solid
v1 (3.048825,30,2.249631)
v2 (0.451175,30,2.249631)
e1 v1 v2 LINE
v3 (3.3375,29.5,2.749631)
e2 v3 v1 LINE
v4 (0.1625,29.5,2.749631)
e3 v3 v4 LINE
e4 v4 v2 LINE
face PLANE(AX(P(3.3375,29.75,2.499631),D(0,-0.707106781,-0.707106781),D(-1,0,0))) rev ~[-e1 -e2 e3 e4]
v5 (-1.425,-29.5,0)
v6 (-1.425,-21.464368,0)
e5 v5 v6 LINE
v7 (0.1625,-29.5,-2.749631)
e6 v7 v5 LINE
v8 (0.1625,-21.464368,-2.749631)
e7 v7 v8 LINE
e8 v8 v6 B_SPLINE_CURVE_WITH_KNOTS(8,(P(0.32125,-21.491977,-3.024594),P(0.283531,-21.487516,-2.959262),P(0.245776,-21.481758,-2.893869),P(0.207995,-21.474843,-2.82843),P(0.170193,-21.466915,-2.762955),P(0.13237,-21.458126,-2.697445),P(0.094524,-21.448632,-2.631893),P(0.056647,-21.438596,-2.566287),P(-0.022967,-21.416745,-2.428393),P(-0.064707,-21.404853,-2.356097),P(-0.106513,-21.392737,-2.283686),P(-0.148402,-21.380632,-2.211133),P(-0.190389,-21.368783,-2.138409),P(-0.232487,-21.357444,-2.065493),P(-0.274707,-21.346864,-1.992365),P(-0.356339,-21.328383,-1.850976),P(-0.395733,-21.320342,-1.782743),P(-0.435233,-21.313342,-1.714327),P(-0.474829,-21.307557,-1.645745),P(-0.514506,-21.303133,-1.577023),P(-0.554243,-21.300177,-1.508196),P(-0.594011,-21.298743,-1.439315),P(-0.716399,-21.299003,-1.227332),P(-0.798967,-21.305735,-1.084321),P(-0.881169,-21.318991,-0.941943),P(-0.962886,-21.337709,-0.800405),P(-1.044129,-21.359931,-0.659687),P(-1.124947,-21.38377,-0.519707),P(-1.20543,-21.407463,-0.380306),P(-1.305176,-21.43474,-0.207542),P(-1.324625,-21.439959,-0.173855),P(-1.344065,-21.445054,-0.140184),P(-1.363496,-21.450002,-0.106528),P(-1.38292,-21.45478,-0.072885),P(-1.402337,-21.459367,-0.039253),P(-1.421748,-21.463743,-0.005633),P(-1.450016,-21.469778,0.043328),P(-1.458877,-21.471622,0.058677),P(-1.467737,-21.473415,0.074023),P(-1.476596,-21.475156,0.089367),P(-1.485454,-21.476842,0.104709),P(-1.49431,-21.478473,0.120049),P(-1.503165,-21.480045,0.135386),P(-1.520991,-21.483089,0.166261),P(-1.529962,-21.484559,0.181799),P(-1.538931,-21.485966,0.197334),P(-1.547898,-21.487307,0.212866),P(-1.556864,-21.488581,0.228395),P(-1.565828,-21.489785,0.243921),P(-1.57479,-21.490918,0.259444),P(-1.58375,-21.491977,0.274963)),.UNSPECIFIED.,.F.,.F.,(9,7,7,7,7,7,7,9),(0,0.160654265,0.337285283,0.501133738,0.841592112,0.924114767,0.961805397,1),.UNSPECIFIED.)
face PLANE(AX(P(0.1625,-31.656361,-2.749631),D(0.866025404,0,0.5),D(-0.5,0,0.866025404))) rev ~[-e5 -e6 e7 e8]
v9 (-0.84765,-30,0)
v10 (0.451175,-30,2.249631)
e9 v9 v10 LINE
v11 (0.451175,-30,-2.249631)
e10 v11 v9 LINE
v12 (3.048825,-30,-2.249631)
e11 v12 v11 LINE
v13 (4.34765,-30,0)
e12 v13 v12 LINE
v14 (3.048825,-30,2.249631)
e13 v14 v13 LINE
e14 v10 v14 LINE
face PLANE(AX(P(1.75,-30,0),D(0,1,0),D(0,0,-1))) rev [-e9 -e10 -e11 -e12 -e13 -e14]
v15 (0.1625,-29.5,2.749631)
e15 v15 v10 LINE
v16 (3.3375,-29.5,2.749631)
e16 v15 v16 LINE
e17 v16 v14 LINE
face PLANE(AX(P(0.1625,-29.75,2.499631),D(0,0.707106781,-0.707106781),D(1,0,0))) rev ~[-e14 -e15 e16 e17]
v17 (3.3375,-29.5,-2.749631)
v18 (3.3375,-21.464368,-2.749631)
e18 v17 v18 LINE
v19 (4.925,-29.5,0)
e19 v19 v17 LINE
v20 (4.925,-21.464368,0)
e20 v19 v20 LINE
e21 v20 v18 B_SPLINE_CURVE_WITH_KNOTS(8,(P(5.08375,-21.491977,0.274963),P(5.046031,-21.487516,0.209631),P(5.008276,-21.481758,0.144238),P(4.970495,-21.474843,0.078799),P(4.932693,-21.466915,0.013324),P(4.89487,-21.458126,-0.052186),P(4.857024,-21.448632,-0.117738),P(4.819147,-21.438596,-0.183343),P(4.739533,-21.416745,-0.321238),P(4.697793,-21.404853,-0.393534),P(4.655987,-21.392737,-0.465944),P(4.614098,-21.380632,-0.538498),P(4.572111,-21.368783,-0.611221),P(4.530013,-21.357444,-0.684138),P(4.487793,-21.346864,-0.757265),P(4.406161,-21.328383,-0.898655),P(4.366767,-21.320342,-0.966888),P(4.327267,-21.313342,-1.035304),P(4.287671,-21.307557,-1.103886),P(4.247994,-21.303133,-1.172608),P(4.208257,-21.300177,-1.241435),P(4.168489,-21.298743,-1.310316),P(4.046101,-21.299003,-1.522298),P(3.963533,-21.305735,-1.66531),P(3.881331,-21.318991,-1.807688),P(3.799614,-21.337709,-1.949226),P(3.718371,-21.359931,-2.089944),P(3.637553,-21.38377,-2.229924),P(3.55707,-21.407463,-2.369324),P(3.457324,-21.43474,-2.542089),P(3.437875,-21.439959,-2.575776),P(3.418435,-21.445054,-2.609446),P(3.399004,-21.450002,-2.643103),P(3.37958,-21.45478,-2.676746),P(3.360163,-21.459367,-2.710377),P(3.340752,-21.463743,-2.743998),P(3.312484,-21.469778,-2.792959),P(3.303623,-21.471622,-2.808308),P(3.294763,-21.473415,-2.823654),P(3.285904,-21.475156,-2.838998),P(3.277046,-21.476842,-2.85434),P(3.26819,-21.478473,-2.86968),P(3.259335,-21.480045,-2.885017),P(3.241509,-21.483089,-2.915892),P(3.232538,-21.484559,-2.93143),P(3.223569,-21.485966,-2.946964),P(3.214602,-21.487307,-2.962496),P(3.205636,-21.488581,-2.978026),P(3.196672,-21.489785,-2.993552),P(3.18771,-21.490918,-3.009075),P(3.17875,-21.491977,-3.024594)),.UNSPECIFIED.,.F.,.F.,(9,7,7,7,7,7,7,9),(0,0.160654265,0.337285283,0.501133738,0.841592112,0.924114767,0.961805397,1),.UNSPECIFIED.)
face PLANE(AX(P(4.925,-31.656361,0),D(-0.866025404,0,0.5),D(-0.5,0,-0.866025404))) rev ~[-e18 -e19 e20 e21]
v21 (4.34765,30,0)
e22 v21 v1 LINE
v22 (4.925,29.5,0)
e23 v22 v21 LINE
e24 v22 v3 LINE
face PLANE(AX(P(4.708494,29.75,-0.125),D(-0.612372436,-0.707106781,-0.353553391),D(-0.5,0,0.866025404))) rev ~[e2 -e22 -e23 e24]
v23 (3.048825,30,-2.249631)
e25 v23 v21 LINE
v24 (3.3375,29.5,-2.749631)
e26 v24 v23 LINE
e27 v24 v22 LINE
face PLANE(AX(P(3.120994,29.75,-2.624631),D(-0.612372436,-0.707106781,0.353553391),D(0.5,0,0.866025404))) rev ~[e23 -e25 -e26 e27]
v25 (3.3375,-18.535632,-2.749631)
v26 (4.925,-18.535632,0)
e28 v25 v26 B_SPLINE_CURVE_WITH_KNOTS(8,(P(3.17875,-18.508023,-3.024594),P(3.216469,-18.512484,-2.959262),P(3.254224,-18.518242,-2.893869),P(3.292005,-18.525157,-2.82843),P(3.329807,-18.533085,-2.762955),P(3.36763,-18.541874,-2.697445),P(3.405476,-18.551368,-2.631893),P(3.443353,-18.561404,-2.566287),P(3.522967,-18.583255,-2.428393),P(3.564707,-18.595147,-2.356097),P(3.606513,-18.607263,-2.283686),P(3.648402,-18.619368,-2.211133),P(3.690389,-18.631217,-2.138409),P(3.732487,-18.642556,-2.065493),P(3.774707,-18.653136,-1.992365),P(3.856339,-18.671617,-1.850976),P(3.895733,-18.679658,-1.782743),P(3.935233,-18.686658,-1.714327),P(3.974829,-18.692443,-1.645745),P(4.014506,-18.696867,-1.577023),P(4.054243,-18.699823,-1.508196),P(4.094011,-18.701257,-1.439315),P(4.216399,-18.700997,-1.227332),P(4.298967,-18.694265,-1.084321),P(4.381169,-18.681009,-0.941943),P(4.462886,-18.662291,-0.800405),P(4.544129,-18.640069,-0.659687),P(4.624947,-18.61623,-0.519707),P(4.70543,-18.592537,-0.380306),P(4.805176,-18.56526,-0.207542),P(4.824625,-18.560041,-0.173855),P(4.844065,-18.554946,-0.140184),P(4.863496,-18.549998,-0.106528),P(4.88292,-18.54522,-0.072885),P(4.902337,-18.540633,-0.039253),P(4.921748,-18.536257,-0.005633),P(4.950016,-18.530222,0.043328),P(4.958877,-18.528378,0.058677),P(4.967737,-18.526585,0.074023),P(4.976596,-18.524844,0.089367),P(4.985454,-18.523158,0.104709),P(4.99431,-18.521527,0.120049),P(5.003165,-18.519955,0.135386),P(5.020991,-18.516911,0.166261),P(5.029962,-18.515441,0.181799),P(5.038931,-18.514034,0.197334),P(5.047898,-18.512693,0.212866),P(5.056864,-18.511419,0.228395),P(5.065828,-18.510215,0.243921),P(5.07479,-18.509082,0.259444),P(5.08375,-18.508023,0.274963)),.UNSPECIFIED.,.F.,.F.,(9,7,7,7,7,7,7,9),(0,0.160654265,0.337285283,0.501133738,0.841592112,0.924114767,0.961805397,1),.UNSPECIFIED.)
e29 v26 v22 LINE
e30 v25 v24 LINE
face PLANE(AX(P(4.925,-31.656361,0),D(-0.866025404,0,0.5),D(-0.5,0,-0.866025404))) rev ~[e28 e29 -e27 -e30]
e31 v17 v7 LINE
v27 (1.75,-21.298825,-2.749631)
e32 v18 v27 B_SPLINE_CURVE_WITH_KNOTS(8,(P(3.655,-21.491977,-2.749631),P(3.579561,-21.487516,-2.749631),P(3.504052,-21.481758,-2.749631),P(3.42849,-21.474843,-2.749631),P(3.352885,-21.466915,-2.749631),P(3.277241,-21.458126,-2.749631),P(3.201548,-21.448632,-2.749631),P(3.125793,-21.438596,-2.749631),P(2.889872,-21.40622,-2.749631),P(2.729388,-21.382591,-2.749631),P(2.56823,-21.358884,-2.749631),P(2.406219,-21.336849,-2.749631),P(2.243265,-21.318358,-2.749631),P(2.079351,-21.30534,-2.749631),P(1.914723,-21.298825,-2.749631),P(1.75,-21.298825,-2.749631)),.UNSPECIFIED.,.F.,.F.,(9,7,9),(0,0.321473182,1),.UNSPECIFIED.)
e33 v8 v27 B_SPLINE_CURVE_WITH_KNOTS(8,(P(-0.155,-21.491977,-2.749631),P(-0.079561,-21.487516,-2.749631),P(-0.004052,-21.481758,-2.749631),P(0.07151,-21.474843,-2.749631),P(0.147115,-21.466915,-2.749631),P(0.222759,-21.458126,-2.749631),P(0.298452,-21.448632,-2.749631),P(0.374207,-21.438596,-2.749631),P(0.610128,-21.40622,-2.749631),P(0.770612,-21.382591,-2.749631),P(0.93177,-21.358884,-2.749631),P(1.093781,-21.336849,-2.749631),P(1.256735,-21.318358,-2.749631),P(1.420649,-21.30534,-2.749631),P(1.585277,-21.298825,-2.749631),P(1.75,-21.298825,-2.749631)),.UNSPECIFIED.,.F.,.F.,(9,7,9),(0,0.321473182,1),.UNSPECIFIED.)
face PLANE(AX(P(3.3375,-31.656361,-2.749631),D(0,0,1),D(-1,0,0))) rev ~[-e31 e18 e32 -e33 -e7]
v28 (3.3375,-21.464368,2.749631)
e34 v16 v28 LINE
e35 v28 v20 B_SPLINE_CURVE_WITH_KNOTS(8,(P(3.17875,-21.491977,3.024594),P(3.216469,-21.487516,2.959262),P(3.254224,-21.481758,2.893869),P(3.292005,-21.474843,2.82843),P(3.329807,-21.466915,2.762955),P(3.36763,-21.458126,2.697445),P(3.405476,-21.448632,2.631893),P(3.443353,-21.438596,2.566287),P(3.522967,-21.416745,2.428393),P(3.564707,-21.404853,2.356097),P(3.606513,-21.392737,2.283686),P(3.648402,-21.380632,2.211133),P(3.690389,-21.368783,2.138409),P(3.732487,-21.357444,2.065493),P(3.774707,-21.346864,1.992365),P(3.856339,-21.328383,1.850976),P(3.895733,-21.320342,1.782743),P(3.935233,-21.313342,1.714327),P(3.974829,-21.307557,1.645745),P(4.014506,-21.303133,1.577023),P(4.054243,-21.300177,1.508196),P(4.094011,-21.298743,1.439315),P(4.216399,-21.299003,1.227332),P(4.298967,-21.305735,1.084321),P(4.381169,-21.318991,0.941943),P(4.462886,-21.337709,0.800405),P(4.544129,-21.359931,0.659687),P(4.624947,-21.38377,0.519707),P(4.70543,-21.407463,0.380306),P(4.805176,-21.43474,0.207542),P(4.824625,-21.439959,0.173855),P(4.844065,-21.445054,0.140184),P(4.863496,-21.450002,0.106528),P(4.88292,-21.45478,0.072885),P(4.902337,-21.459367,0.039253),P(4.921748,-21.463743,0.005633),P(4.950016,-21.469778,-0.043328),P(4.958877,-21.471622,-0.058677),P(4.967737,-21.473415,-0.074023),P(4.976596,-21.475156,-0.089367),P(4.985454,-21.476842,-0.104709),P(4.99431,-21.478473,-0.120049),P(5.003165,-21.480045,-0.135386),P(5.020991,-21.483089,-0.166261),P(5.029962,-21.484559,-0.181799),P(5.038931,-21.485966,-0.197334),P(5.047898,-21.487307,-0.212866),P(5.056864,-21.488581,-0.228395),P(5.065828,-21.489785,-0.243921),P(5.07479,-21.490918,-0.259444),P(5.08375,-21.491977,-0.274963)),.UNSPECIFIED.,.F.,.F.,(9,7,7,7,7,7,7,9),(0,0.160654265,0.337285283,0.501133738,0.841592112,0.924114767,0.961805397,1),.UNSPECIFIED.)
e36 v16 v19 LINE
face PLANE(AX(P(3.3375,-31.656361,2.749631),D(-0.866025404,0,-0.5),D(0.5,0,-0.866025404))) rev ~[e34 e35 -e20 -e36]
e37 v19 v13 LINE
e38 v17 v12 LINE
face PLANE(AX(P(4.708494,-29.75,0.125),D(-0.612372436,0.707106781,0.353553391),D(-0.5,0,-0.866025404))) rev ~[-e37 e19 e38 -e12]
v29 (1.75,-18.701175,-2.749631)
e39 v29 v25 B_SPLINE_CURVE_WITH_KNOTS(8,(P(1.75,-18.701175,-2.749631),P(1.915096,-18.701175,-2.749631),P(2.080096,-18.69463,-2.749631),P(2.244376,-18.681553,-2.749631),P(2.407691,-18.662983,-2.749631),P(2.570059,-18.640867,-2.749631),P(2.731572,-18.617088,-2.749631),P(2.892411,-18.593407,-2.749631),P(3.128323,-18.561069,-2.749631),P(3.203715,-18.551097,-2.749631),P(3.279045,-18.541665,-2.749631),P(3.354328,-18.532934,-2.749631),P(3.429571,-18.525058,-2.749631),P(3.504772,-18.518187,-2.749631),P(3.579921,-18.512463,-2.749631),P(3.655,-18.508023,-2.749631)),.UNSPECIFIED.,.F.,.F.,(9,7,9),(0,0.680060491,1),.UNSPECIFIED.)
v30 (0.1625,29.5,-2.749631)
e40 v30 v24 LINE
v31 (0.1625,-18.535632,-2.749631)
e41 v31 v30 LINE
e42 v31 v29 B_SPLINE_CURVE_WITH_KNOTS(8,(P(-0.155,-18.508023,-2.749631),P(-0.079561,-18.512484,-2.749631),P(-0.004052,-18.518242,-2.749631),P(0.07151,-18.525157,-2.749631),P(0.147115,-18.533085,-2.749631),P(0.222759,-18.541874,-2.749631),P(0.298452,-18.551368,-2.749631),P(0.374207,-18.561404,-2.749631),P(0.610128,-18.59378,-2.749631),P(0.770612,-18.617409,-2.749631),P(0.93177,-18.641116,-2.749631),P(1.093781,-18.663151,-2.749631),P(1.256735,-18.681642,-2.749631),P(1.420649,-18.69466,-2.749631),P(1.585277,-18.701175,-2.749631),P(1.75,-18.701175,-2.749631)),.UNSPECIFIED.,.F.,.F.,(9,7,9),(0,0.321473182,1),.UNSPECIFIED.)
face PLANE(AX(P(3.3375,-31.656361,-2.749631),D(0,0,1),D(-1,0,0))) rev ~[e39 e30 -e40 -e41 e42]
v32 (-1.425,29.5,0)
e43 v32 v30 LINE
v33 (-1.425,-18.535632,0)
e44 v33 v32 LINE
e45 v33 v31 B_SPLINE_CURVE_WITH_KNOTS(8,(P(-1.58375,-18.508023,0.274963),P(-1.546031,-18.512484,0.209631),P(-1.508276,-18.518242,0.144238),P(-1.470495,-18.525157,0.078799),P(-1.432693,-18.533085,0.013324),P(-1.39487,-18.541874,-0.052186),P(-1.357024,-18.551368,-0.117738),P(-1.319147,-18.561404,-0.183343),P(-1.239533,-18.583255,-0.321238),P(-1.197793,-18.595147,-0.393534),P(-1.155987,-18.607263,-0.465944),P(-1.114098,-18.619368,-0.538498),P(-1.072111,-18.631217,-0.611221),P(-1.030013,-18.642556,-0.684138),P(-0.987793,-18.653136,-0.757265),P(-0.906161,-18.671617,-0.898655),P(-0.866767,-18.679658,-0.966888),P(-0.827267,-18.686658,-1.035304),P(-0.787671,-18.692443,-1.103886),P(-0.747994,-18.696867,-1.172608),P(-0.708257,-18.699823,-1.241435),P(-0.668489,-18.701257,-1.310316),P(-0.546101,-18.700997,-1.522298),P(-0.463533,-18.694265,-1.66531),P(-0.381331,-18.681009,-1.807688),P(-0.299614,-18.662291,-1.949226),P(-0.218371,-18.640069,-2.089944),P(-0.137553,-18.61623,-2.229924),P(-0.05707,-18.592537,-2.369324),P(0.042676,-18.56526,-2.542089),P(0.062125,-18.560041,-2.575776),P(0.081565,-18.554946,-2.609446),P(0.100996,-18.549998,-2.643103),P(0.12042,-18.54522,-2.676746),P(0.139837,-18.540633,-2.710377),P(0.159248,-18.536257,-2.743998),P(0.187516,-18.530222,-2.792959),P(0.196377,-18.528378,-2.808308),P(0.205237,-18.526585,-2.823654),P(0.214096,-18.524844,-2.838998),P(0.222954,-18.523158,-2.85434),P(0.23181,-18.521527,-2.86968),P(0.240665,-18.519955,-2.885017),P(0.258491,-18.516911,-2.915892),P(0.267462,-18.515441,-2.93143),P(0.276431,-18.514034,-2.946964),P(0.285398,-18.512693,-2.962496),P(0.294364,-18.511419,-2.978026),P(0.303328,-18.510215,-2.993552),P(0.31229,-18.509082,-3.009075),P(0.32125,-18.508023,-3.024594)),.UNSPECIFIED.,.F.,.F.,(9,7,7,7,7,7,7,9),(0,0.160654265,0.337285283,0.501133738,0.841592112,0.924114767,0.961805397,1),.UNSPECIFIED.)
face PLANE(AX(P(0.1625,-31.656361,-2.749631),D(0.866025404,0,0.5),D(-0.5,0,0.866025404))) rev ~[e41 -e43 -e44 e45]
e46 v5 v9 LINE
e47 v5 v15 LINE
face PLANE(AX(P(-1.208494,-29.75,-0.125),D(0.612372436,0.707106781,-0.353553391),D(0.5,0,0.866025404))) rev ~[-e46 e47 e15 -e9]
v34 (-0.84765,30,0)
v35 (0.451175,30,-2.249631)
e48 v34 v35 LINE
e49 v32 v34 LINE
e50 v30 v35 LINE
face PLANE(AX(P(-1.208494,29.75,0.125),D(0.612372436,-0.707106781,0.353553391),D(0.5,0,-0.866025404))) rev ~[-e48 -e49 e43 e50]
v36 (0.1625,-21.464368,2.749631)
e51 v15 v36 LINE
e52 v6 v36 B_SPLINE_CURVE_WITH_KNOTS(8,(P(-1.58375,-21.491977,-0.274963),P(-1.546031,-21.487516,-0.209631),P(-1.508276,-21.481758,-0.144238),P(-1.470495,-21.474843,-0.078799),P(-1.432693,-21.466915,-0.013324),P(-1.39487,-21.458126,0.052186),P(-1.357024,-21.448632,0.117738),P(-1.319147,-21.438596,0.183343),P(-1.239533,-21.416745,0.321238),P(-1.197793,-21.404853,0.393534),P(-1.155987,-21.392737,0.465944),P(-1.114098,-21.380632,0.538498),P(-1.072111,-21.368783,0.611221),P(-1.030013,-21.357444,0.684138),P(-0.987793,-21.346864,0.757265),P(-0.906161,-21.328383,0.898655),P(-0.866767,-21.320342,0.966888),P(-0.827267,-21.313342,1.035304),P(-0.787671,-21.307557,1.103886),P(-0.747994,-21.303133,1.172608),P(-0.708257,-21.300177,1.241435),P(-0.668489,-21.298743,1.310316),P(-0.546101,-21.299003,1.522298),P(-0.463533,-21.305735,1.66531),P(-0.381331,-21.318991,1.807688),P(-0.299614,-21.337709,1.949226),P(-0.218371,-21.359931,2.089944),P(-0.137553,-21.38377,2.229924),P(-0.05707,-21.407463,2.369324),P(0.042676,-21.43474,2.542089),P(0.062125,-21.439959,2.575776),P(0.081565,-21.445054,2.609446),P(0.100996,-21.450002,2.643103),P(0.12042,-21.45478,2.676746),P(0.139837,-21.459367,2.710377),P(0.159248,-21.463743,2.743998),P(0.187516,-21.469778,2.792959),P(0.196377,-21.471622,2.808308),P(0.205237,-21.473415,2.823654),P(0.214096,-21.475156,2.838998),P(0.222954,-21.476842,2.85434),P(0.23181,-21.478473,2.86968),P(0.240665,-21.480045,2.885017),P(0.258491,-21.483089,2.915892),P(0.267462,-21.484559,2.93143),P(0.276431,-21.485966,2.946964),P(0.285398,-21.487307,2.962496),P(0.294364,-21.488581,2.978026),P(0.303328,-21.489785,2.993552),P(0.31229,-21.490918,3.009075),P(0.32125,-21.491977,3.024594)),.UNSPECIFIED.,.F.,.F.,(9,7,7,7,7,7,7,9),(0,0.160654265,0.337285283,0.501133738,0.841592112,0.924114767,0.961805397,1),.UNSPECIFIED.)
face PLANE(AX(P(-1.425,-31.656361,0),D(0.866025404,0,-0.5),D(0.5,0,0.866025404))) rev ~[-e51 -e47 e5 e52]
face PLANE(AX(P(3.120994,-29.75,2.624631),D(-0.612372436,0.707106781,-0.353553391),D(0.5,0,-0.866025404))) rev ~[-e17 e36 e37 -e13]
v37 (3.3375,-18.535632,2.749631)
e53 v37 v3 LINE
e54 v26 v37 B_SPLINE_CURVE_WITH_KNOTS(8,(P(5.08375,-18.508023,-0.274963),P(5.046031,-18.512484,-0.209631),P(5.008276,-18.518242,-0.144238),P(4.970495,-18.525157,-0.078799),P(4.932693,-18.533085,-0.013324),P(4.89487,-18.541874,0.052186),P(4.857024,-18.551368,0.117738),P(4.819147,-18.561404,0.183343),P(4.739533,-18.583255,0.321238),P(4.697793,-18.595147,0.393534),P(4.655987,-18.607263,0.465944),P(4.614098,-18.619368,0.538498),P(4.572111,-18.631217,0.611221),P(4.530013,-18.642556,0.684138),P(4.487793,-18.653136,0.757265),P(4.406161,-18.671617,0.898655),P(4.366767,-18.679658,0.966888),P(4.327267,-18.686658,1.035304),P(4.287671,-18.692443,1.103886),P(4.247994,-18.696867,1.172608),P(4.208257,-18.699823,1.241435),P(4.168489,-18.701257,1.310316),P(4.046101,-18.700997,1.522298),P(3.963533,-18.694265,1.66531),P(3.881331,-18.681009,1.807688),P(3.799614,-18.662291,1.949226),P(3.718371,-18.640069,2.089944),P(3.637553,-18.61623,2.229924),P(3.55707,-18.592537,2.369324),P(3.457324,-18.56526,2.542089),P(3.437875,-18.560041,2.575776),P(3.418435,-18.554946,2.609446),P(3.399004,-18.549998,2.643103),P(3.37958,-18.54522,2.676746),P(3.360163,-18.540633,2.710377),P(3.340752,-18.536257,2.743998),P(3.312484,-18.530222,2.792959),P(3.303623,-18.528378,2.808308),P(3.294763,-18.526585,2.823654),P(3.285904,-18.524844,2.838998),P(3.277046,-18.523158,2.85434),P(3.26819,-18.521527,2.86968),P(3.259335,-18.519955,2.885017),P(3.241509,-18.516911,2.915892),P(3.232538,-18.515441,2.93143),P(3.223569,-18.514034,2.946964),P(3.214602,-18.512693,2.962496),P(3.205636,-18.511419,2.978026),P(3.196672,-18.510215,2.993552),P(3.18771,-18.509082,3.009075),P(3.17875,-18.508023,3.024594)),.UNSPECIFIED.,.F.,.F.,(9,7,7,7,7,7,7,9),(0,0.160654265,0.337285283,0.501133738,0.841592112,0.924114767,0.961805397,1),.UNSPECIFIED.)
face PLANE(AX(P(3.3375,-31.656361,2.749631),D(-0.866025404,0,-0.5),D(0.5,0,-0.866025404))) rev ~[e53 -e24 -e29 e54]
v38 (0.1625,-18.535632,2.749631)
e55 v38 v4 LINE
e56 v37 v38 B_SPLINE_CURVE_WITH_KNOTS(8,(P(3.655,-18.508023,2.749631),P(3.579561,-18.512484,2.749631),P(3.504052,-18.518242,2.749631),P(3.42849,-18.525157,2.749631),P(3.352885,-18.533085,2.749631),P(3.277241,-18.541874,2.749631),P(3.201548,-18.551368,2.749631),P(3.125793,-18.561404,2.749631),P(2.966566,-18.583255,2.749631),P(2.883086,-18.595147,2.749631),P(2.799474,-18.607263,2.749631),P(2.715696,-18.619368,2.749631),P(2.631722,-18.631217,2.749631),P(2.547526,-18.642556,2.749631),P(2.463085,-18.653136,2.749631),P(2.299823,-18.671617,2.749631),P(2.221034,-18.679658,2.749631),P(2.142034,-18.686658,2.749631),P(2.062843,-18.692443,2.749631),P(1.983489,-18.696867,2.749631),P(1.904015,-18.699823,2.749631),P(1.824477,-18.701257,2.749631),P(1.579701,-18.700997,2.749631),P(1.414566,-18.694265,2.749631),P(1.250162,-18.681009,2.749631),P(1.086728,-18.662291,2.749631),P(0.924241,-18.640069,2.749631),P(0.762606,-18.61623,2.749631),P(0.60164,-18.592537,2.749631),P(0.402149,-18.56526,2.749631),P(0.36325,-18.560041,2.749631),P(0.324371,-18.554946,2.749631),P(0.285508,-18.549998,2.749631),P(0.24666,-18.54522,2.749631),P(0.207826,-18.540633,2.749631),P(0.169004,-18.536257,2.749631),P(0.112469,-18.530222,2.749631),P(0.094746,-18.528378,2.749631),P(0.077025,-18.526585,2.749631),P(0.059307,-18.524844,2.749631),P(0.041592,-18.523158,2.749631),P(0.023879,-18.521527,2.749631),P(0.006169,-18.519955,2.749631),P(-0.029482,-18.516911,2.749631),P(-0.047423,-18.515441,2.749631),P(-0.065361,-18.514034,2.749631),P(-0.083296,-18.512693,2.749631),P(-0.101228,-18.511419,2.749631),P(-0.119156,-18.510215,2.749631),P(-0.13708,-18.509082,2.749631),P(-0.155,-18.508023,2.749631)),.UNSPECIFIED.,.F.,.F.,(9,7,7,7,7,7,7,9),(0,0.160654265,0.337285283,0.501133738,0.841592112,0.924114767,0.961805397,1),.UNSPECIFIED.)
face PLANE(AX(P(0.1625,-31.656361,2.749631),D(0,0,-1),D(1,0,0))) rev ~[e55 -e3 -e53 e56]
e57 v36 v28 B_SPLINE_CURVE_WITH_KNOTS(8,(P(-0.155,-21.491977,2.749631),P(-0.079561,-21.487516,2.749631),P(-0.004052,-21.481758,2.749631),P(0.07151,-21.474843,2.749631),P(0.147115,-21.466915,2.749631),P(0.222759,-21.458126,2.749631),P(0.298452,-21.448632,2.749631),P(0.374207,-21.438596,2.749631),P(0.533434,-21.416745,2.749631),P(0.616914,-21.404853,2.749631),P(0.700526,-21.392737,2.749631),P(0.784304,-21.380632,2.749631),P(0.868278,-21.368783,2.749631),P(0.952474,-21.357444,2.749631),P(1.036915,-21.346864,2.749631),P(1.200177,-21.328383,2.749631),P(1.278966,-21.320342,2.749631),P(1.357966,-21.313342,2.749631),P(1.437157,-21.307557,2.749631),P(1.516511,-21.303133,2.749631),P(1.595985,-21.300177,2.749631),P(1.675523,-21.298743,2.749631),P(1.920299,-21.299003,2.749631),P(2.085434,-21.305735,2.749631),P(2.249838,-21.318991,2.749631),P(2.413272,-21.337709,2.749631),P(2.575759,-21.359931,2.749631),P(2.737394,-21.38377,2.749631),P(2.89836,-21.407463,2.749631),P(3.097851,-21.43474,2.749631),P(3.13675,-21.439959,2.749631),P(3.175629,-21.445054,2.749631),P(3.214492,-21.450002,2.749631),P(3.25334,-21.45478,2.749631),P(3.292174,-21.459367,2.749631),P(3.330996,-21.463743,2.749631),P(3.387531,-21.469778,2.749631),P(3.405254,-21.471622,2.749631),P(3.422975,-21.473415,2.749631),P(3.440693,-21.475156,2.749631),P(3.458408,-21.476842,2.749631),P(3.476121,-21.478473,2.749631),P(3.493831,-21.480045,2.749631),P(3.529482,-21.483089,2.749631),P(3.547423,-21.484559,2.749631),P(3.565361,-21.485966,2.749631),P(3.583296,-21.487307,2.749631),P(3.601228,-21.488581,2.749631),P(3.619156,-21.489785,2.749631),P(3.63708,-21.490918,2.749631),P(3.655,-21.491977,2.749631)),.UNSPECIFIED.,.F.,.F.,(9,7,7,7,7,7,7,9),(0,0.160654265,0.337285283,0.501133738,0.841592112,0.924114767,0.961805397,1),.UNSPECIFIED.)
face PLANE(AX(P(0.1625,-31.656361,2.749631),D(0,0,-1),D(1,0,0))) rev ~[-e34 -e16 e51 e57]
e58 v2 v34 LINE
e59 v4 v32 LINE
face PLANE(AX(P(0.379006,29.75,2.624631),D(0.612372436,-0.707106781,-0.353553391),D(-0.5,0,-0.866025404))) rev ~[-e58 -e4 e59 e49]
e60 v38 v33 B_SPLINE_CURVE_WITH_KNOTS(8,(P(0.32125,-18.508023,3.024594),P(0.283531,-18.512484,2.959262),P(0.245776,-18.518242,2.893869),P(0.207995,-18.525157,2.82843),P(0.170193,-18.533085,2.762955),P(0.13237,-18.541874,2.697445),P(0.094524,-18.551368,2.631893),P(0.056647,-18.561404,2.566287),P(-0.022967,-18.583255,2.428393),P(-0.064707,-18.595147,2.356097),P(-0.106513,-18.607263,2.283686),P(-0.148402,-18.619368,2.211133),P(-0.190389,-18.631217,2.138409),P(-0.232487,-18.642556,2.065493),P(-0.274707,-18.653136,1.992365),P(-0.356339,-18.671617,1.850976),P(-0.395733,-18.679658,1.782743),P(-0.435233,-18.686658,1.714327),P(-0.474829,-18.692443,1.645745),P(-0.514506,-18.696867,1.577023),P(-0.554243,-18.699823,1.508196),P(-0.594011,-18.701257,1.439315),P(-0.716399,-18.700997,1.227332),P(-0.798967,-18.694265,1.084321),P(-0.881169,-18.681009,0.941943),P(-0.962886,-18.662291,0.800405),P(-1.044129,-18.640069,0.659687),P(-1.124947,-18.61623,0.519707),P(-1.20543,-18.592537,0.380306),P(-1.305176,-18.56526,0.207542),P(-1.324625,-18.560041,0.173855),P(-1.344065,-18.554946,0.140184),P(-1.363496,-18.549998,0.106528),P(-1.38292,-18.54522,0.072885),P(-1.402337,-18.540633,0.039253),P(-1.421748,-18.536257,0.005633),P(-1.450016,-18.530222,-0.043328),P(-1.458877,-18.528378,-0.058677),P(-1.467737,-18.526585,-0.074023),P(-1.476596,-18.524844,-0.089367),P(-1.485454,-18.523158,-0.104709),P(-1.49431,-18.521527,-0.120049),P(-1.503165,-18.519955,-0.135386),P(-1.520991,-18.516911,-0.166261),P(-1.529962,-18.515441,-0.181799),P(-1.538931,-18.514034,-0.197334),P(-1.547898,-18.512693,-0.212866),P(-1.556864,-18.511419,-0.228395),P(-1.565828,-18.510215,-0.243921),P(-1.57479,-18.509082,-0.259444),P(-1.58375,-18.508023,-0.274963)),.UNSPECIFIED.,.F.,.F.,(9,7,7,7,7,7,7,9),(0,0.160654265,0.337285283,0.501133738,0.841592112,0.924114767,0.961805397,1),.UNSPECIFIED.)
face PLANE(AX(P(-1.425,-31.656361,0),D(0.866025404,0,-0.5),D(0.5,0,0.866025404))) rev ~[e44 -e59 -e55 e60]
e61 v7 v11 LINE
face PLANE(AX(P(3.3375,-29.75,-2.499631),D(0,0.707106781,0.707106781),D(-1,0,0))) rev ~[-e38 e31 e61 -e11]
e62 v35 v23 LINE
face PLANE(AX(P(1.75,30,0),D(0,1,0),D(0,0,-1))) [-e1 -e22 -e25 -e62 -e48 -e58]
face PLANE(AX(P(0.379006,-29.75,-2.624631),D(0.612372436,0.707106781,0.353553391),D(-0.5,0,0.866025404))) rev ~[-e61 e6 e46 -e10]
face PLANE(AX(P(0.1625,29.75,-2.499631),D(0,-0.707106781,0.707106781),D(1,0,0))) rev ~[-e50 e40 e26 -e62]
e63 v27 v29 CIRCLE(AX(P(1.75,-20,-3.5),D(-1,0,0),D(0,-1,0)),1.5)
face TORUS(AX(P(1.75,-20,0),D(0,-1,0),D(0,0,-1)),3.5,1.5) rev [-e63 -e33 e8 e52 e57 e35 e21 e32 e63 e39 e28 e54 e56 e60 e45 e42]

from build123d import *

# Parameters (mm, degrees)
CUT_EXTRUDE1_DEPTH      = 31.656361493
CUT_EXTRUDE1_DEPTH_BACK = 31.656361493
SKETCH5_R               = 4
CHAMFER1_SIZE           = 0.5


with BuildPart() as part:
    # Sketch2 → Revolve1 (revolve)
    with BuildSketch(Plane.XY, mode=Mode.PRIVATE) as revolve1_sk:
        with BuildLine():
            Line((-1.75, -18.5), (-1.75, 30))
            Line((-1.75, 30), (1.75, 30))
            Line((1.75, 30), (1.75, -30))
            Line((1.75, -30), (-1.75, -30))
            Line((-1.75, -30), (-1.75, -21.5))
            ThreePointArc((-1.75, -21.5), (-0.25, -20), (-1.75, -18.5))
        make_face()
    revolve(revolve1_sk.sketch.rotate(Axis((1.75, -30, 0), (0, 1, 0)), 270), axis=Axis((1.75, -30, 0), (0, 1, 0)))

    # Sketch5 → Cut-Extrude1 (cut, two sides: drawn at the far end of the back side and taken through both)
    with BuildSketch(Plane(origin=(0, 0, 0), x_dir=(1, 0, 0), z_dir=(0, 1, 0)).offset(-CUT_EXTRUDE1_DEPTH_BACK)):
        with Locations((1.75, 0)):
            Circle(SKETCH5_R)
        Polygon((4.925, 0), (3.3375, 2.749630657), (0.1625, 2.749630657), (-1.425, 0), (0.1625, -2.749630657), (3.3375, -2.749630657), align=None, mode=Mode.SUBTRACT)
    extrude(amount=CUT_EXTRUDE1_DEPTH + CUT_EXTRUDE1_DEPTH_BACK, mode=Mode.SUBTRACT)

    # Chamfer1
    chamfer1_edges = [part.edges().sort_by_distance(p)[0] for p in [
        (1.75, -30, 2.749630657),
        (4.13125, -30, 1.374815329),
        (4.13125, -30, -1.374815329),
        (1.75, -30, -2.749630657),
        (-0.63125, -30, -1.374815329),
        (-0.63125, -30, 1.374815329),
        (4.13125, 30, 1.374815329),
        (1.75, 30, 2.749630657),
        (-0.63125, 30, 1.374815329),
        (-0.63125, 30, -1.374815329),
        (1.75, 30, -2.749630657),
        (4.13125, 30, -1.374815329),
    ]]
    chamfer(chamfer1_edges, length=CHAMFER1_SIZE)


solid = part.part
